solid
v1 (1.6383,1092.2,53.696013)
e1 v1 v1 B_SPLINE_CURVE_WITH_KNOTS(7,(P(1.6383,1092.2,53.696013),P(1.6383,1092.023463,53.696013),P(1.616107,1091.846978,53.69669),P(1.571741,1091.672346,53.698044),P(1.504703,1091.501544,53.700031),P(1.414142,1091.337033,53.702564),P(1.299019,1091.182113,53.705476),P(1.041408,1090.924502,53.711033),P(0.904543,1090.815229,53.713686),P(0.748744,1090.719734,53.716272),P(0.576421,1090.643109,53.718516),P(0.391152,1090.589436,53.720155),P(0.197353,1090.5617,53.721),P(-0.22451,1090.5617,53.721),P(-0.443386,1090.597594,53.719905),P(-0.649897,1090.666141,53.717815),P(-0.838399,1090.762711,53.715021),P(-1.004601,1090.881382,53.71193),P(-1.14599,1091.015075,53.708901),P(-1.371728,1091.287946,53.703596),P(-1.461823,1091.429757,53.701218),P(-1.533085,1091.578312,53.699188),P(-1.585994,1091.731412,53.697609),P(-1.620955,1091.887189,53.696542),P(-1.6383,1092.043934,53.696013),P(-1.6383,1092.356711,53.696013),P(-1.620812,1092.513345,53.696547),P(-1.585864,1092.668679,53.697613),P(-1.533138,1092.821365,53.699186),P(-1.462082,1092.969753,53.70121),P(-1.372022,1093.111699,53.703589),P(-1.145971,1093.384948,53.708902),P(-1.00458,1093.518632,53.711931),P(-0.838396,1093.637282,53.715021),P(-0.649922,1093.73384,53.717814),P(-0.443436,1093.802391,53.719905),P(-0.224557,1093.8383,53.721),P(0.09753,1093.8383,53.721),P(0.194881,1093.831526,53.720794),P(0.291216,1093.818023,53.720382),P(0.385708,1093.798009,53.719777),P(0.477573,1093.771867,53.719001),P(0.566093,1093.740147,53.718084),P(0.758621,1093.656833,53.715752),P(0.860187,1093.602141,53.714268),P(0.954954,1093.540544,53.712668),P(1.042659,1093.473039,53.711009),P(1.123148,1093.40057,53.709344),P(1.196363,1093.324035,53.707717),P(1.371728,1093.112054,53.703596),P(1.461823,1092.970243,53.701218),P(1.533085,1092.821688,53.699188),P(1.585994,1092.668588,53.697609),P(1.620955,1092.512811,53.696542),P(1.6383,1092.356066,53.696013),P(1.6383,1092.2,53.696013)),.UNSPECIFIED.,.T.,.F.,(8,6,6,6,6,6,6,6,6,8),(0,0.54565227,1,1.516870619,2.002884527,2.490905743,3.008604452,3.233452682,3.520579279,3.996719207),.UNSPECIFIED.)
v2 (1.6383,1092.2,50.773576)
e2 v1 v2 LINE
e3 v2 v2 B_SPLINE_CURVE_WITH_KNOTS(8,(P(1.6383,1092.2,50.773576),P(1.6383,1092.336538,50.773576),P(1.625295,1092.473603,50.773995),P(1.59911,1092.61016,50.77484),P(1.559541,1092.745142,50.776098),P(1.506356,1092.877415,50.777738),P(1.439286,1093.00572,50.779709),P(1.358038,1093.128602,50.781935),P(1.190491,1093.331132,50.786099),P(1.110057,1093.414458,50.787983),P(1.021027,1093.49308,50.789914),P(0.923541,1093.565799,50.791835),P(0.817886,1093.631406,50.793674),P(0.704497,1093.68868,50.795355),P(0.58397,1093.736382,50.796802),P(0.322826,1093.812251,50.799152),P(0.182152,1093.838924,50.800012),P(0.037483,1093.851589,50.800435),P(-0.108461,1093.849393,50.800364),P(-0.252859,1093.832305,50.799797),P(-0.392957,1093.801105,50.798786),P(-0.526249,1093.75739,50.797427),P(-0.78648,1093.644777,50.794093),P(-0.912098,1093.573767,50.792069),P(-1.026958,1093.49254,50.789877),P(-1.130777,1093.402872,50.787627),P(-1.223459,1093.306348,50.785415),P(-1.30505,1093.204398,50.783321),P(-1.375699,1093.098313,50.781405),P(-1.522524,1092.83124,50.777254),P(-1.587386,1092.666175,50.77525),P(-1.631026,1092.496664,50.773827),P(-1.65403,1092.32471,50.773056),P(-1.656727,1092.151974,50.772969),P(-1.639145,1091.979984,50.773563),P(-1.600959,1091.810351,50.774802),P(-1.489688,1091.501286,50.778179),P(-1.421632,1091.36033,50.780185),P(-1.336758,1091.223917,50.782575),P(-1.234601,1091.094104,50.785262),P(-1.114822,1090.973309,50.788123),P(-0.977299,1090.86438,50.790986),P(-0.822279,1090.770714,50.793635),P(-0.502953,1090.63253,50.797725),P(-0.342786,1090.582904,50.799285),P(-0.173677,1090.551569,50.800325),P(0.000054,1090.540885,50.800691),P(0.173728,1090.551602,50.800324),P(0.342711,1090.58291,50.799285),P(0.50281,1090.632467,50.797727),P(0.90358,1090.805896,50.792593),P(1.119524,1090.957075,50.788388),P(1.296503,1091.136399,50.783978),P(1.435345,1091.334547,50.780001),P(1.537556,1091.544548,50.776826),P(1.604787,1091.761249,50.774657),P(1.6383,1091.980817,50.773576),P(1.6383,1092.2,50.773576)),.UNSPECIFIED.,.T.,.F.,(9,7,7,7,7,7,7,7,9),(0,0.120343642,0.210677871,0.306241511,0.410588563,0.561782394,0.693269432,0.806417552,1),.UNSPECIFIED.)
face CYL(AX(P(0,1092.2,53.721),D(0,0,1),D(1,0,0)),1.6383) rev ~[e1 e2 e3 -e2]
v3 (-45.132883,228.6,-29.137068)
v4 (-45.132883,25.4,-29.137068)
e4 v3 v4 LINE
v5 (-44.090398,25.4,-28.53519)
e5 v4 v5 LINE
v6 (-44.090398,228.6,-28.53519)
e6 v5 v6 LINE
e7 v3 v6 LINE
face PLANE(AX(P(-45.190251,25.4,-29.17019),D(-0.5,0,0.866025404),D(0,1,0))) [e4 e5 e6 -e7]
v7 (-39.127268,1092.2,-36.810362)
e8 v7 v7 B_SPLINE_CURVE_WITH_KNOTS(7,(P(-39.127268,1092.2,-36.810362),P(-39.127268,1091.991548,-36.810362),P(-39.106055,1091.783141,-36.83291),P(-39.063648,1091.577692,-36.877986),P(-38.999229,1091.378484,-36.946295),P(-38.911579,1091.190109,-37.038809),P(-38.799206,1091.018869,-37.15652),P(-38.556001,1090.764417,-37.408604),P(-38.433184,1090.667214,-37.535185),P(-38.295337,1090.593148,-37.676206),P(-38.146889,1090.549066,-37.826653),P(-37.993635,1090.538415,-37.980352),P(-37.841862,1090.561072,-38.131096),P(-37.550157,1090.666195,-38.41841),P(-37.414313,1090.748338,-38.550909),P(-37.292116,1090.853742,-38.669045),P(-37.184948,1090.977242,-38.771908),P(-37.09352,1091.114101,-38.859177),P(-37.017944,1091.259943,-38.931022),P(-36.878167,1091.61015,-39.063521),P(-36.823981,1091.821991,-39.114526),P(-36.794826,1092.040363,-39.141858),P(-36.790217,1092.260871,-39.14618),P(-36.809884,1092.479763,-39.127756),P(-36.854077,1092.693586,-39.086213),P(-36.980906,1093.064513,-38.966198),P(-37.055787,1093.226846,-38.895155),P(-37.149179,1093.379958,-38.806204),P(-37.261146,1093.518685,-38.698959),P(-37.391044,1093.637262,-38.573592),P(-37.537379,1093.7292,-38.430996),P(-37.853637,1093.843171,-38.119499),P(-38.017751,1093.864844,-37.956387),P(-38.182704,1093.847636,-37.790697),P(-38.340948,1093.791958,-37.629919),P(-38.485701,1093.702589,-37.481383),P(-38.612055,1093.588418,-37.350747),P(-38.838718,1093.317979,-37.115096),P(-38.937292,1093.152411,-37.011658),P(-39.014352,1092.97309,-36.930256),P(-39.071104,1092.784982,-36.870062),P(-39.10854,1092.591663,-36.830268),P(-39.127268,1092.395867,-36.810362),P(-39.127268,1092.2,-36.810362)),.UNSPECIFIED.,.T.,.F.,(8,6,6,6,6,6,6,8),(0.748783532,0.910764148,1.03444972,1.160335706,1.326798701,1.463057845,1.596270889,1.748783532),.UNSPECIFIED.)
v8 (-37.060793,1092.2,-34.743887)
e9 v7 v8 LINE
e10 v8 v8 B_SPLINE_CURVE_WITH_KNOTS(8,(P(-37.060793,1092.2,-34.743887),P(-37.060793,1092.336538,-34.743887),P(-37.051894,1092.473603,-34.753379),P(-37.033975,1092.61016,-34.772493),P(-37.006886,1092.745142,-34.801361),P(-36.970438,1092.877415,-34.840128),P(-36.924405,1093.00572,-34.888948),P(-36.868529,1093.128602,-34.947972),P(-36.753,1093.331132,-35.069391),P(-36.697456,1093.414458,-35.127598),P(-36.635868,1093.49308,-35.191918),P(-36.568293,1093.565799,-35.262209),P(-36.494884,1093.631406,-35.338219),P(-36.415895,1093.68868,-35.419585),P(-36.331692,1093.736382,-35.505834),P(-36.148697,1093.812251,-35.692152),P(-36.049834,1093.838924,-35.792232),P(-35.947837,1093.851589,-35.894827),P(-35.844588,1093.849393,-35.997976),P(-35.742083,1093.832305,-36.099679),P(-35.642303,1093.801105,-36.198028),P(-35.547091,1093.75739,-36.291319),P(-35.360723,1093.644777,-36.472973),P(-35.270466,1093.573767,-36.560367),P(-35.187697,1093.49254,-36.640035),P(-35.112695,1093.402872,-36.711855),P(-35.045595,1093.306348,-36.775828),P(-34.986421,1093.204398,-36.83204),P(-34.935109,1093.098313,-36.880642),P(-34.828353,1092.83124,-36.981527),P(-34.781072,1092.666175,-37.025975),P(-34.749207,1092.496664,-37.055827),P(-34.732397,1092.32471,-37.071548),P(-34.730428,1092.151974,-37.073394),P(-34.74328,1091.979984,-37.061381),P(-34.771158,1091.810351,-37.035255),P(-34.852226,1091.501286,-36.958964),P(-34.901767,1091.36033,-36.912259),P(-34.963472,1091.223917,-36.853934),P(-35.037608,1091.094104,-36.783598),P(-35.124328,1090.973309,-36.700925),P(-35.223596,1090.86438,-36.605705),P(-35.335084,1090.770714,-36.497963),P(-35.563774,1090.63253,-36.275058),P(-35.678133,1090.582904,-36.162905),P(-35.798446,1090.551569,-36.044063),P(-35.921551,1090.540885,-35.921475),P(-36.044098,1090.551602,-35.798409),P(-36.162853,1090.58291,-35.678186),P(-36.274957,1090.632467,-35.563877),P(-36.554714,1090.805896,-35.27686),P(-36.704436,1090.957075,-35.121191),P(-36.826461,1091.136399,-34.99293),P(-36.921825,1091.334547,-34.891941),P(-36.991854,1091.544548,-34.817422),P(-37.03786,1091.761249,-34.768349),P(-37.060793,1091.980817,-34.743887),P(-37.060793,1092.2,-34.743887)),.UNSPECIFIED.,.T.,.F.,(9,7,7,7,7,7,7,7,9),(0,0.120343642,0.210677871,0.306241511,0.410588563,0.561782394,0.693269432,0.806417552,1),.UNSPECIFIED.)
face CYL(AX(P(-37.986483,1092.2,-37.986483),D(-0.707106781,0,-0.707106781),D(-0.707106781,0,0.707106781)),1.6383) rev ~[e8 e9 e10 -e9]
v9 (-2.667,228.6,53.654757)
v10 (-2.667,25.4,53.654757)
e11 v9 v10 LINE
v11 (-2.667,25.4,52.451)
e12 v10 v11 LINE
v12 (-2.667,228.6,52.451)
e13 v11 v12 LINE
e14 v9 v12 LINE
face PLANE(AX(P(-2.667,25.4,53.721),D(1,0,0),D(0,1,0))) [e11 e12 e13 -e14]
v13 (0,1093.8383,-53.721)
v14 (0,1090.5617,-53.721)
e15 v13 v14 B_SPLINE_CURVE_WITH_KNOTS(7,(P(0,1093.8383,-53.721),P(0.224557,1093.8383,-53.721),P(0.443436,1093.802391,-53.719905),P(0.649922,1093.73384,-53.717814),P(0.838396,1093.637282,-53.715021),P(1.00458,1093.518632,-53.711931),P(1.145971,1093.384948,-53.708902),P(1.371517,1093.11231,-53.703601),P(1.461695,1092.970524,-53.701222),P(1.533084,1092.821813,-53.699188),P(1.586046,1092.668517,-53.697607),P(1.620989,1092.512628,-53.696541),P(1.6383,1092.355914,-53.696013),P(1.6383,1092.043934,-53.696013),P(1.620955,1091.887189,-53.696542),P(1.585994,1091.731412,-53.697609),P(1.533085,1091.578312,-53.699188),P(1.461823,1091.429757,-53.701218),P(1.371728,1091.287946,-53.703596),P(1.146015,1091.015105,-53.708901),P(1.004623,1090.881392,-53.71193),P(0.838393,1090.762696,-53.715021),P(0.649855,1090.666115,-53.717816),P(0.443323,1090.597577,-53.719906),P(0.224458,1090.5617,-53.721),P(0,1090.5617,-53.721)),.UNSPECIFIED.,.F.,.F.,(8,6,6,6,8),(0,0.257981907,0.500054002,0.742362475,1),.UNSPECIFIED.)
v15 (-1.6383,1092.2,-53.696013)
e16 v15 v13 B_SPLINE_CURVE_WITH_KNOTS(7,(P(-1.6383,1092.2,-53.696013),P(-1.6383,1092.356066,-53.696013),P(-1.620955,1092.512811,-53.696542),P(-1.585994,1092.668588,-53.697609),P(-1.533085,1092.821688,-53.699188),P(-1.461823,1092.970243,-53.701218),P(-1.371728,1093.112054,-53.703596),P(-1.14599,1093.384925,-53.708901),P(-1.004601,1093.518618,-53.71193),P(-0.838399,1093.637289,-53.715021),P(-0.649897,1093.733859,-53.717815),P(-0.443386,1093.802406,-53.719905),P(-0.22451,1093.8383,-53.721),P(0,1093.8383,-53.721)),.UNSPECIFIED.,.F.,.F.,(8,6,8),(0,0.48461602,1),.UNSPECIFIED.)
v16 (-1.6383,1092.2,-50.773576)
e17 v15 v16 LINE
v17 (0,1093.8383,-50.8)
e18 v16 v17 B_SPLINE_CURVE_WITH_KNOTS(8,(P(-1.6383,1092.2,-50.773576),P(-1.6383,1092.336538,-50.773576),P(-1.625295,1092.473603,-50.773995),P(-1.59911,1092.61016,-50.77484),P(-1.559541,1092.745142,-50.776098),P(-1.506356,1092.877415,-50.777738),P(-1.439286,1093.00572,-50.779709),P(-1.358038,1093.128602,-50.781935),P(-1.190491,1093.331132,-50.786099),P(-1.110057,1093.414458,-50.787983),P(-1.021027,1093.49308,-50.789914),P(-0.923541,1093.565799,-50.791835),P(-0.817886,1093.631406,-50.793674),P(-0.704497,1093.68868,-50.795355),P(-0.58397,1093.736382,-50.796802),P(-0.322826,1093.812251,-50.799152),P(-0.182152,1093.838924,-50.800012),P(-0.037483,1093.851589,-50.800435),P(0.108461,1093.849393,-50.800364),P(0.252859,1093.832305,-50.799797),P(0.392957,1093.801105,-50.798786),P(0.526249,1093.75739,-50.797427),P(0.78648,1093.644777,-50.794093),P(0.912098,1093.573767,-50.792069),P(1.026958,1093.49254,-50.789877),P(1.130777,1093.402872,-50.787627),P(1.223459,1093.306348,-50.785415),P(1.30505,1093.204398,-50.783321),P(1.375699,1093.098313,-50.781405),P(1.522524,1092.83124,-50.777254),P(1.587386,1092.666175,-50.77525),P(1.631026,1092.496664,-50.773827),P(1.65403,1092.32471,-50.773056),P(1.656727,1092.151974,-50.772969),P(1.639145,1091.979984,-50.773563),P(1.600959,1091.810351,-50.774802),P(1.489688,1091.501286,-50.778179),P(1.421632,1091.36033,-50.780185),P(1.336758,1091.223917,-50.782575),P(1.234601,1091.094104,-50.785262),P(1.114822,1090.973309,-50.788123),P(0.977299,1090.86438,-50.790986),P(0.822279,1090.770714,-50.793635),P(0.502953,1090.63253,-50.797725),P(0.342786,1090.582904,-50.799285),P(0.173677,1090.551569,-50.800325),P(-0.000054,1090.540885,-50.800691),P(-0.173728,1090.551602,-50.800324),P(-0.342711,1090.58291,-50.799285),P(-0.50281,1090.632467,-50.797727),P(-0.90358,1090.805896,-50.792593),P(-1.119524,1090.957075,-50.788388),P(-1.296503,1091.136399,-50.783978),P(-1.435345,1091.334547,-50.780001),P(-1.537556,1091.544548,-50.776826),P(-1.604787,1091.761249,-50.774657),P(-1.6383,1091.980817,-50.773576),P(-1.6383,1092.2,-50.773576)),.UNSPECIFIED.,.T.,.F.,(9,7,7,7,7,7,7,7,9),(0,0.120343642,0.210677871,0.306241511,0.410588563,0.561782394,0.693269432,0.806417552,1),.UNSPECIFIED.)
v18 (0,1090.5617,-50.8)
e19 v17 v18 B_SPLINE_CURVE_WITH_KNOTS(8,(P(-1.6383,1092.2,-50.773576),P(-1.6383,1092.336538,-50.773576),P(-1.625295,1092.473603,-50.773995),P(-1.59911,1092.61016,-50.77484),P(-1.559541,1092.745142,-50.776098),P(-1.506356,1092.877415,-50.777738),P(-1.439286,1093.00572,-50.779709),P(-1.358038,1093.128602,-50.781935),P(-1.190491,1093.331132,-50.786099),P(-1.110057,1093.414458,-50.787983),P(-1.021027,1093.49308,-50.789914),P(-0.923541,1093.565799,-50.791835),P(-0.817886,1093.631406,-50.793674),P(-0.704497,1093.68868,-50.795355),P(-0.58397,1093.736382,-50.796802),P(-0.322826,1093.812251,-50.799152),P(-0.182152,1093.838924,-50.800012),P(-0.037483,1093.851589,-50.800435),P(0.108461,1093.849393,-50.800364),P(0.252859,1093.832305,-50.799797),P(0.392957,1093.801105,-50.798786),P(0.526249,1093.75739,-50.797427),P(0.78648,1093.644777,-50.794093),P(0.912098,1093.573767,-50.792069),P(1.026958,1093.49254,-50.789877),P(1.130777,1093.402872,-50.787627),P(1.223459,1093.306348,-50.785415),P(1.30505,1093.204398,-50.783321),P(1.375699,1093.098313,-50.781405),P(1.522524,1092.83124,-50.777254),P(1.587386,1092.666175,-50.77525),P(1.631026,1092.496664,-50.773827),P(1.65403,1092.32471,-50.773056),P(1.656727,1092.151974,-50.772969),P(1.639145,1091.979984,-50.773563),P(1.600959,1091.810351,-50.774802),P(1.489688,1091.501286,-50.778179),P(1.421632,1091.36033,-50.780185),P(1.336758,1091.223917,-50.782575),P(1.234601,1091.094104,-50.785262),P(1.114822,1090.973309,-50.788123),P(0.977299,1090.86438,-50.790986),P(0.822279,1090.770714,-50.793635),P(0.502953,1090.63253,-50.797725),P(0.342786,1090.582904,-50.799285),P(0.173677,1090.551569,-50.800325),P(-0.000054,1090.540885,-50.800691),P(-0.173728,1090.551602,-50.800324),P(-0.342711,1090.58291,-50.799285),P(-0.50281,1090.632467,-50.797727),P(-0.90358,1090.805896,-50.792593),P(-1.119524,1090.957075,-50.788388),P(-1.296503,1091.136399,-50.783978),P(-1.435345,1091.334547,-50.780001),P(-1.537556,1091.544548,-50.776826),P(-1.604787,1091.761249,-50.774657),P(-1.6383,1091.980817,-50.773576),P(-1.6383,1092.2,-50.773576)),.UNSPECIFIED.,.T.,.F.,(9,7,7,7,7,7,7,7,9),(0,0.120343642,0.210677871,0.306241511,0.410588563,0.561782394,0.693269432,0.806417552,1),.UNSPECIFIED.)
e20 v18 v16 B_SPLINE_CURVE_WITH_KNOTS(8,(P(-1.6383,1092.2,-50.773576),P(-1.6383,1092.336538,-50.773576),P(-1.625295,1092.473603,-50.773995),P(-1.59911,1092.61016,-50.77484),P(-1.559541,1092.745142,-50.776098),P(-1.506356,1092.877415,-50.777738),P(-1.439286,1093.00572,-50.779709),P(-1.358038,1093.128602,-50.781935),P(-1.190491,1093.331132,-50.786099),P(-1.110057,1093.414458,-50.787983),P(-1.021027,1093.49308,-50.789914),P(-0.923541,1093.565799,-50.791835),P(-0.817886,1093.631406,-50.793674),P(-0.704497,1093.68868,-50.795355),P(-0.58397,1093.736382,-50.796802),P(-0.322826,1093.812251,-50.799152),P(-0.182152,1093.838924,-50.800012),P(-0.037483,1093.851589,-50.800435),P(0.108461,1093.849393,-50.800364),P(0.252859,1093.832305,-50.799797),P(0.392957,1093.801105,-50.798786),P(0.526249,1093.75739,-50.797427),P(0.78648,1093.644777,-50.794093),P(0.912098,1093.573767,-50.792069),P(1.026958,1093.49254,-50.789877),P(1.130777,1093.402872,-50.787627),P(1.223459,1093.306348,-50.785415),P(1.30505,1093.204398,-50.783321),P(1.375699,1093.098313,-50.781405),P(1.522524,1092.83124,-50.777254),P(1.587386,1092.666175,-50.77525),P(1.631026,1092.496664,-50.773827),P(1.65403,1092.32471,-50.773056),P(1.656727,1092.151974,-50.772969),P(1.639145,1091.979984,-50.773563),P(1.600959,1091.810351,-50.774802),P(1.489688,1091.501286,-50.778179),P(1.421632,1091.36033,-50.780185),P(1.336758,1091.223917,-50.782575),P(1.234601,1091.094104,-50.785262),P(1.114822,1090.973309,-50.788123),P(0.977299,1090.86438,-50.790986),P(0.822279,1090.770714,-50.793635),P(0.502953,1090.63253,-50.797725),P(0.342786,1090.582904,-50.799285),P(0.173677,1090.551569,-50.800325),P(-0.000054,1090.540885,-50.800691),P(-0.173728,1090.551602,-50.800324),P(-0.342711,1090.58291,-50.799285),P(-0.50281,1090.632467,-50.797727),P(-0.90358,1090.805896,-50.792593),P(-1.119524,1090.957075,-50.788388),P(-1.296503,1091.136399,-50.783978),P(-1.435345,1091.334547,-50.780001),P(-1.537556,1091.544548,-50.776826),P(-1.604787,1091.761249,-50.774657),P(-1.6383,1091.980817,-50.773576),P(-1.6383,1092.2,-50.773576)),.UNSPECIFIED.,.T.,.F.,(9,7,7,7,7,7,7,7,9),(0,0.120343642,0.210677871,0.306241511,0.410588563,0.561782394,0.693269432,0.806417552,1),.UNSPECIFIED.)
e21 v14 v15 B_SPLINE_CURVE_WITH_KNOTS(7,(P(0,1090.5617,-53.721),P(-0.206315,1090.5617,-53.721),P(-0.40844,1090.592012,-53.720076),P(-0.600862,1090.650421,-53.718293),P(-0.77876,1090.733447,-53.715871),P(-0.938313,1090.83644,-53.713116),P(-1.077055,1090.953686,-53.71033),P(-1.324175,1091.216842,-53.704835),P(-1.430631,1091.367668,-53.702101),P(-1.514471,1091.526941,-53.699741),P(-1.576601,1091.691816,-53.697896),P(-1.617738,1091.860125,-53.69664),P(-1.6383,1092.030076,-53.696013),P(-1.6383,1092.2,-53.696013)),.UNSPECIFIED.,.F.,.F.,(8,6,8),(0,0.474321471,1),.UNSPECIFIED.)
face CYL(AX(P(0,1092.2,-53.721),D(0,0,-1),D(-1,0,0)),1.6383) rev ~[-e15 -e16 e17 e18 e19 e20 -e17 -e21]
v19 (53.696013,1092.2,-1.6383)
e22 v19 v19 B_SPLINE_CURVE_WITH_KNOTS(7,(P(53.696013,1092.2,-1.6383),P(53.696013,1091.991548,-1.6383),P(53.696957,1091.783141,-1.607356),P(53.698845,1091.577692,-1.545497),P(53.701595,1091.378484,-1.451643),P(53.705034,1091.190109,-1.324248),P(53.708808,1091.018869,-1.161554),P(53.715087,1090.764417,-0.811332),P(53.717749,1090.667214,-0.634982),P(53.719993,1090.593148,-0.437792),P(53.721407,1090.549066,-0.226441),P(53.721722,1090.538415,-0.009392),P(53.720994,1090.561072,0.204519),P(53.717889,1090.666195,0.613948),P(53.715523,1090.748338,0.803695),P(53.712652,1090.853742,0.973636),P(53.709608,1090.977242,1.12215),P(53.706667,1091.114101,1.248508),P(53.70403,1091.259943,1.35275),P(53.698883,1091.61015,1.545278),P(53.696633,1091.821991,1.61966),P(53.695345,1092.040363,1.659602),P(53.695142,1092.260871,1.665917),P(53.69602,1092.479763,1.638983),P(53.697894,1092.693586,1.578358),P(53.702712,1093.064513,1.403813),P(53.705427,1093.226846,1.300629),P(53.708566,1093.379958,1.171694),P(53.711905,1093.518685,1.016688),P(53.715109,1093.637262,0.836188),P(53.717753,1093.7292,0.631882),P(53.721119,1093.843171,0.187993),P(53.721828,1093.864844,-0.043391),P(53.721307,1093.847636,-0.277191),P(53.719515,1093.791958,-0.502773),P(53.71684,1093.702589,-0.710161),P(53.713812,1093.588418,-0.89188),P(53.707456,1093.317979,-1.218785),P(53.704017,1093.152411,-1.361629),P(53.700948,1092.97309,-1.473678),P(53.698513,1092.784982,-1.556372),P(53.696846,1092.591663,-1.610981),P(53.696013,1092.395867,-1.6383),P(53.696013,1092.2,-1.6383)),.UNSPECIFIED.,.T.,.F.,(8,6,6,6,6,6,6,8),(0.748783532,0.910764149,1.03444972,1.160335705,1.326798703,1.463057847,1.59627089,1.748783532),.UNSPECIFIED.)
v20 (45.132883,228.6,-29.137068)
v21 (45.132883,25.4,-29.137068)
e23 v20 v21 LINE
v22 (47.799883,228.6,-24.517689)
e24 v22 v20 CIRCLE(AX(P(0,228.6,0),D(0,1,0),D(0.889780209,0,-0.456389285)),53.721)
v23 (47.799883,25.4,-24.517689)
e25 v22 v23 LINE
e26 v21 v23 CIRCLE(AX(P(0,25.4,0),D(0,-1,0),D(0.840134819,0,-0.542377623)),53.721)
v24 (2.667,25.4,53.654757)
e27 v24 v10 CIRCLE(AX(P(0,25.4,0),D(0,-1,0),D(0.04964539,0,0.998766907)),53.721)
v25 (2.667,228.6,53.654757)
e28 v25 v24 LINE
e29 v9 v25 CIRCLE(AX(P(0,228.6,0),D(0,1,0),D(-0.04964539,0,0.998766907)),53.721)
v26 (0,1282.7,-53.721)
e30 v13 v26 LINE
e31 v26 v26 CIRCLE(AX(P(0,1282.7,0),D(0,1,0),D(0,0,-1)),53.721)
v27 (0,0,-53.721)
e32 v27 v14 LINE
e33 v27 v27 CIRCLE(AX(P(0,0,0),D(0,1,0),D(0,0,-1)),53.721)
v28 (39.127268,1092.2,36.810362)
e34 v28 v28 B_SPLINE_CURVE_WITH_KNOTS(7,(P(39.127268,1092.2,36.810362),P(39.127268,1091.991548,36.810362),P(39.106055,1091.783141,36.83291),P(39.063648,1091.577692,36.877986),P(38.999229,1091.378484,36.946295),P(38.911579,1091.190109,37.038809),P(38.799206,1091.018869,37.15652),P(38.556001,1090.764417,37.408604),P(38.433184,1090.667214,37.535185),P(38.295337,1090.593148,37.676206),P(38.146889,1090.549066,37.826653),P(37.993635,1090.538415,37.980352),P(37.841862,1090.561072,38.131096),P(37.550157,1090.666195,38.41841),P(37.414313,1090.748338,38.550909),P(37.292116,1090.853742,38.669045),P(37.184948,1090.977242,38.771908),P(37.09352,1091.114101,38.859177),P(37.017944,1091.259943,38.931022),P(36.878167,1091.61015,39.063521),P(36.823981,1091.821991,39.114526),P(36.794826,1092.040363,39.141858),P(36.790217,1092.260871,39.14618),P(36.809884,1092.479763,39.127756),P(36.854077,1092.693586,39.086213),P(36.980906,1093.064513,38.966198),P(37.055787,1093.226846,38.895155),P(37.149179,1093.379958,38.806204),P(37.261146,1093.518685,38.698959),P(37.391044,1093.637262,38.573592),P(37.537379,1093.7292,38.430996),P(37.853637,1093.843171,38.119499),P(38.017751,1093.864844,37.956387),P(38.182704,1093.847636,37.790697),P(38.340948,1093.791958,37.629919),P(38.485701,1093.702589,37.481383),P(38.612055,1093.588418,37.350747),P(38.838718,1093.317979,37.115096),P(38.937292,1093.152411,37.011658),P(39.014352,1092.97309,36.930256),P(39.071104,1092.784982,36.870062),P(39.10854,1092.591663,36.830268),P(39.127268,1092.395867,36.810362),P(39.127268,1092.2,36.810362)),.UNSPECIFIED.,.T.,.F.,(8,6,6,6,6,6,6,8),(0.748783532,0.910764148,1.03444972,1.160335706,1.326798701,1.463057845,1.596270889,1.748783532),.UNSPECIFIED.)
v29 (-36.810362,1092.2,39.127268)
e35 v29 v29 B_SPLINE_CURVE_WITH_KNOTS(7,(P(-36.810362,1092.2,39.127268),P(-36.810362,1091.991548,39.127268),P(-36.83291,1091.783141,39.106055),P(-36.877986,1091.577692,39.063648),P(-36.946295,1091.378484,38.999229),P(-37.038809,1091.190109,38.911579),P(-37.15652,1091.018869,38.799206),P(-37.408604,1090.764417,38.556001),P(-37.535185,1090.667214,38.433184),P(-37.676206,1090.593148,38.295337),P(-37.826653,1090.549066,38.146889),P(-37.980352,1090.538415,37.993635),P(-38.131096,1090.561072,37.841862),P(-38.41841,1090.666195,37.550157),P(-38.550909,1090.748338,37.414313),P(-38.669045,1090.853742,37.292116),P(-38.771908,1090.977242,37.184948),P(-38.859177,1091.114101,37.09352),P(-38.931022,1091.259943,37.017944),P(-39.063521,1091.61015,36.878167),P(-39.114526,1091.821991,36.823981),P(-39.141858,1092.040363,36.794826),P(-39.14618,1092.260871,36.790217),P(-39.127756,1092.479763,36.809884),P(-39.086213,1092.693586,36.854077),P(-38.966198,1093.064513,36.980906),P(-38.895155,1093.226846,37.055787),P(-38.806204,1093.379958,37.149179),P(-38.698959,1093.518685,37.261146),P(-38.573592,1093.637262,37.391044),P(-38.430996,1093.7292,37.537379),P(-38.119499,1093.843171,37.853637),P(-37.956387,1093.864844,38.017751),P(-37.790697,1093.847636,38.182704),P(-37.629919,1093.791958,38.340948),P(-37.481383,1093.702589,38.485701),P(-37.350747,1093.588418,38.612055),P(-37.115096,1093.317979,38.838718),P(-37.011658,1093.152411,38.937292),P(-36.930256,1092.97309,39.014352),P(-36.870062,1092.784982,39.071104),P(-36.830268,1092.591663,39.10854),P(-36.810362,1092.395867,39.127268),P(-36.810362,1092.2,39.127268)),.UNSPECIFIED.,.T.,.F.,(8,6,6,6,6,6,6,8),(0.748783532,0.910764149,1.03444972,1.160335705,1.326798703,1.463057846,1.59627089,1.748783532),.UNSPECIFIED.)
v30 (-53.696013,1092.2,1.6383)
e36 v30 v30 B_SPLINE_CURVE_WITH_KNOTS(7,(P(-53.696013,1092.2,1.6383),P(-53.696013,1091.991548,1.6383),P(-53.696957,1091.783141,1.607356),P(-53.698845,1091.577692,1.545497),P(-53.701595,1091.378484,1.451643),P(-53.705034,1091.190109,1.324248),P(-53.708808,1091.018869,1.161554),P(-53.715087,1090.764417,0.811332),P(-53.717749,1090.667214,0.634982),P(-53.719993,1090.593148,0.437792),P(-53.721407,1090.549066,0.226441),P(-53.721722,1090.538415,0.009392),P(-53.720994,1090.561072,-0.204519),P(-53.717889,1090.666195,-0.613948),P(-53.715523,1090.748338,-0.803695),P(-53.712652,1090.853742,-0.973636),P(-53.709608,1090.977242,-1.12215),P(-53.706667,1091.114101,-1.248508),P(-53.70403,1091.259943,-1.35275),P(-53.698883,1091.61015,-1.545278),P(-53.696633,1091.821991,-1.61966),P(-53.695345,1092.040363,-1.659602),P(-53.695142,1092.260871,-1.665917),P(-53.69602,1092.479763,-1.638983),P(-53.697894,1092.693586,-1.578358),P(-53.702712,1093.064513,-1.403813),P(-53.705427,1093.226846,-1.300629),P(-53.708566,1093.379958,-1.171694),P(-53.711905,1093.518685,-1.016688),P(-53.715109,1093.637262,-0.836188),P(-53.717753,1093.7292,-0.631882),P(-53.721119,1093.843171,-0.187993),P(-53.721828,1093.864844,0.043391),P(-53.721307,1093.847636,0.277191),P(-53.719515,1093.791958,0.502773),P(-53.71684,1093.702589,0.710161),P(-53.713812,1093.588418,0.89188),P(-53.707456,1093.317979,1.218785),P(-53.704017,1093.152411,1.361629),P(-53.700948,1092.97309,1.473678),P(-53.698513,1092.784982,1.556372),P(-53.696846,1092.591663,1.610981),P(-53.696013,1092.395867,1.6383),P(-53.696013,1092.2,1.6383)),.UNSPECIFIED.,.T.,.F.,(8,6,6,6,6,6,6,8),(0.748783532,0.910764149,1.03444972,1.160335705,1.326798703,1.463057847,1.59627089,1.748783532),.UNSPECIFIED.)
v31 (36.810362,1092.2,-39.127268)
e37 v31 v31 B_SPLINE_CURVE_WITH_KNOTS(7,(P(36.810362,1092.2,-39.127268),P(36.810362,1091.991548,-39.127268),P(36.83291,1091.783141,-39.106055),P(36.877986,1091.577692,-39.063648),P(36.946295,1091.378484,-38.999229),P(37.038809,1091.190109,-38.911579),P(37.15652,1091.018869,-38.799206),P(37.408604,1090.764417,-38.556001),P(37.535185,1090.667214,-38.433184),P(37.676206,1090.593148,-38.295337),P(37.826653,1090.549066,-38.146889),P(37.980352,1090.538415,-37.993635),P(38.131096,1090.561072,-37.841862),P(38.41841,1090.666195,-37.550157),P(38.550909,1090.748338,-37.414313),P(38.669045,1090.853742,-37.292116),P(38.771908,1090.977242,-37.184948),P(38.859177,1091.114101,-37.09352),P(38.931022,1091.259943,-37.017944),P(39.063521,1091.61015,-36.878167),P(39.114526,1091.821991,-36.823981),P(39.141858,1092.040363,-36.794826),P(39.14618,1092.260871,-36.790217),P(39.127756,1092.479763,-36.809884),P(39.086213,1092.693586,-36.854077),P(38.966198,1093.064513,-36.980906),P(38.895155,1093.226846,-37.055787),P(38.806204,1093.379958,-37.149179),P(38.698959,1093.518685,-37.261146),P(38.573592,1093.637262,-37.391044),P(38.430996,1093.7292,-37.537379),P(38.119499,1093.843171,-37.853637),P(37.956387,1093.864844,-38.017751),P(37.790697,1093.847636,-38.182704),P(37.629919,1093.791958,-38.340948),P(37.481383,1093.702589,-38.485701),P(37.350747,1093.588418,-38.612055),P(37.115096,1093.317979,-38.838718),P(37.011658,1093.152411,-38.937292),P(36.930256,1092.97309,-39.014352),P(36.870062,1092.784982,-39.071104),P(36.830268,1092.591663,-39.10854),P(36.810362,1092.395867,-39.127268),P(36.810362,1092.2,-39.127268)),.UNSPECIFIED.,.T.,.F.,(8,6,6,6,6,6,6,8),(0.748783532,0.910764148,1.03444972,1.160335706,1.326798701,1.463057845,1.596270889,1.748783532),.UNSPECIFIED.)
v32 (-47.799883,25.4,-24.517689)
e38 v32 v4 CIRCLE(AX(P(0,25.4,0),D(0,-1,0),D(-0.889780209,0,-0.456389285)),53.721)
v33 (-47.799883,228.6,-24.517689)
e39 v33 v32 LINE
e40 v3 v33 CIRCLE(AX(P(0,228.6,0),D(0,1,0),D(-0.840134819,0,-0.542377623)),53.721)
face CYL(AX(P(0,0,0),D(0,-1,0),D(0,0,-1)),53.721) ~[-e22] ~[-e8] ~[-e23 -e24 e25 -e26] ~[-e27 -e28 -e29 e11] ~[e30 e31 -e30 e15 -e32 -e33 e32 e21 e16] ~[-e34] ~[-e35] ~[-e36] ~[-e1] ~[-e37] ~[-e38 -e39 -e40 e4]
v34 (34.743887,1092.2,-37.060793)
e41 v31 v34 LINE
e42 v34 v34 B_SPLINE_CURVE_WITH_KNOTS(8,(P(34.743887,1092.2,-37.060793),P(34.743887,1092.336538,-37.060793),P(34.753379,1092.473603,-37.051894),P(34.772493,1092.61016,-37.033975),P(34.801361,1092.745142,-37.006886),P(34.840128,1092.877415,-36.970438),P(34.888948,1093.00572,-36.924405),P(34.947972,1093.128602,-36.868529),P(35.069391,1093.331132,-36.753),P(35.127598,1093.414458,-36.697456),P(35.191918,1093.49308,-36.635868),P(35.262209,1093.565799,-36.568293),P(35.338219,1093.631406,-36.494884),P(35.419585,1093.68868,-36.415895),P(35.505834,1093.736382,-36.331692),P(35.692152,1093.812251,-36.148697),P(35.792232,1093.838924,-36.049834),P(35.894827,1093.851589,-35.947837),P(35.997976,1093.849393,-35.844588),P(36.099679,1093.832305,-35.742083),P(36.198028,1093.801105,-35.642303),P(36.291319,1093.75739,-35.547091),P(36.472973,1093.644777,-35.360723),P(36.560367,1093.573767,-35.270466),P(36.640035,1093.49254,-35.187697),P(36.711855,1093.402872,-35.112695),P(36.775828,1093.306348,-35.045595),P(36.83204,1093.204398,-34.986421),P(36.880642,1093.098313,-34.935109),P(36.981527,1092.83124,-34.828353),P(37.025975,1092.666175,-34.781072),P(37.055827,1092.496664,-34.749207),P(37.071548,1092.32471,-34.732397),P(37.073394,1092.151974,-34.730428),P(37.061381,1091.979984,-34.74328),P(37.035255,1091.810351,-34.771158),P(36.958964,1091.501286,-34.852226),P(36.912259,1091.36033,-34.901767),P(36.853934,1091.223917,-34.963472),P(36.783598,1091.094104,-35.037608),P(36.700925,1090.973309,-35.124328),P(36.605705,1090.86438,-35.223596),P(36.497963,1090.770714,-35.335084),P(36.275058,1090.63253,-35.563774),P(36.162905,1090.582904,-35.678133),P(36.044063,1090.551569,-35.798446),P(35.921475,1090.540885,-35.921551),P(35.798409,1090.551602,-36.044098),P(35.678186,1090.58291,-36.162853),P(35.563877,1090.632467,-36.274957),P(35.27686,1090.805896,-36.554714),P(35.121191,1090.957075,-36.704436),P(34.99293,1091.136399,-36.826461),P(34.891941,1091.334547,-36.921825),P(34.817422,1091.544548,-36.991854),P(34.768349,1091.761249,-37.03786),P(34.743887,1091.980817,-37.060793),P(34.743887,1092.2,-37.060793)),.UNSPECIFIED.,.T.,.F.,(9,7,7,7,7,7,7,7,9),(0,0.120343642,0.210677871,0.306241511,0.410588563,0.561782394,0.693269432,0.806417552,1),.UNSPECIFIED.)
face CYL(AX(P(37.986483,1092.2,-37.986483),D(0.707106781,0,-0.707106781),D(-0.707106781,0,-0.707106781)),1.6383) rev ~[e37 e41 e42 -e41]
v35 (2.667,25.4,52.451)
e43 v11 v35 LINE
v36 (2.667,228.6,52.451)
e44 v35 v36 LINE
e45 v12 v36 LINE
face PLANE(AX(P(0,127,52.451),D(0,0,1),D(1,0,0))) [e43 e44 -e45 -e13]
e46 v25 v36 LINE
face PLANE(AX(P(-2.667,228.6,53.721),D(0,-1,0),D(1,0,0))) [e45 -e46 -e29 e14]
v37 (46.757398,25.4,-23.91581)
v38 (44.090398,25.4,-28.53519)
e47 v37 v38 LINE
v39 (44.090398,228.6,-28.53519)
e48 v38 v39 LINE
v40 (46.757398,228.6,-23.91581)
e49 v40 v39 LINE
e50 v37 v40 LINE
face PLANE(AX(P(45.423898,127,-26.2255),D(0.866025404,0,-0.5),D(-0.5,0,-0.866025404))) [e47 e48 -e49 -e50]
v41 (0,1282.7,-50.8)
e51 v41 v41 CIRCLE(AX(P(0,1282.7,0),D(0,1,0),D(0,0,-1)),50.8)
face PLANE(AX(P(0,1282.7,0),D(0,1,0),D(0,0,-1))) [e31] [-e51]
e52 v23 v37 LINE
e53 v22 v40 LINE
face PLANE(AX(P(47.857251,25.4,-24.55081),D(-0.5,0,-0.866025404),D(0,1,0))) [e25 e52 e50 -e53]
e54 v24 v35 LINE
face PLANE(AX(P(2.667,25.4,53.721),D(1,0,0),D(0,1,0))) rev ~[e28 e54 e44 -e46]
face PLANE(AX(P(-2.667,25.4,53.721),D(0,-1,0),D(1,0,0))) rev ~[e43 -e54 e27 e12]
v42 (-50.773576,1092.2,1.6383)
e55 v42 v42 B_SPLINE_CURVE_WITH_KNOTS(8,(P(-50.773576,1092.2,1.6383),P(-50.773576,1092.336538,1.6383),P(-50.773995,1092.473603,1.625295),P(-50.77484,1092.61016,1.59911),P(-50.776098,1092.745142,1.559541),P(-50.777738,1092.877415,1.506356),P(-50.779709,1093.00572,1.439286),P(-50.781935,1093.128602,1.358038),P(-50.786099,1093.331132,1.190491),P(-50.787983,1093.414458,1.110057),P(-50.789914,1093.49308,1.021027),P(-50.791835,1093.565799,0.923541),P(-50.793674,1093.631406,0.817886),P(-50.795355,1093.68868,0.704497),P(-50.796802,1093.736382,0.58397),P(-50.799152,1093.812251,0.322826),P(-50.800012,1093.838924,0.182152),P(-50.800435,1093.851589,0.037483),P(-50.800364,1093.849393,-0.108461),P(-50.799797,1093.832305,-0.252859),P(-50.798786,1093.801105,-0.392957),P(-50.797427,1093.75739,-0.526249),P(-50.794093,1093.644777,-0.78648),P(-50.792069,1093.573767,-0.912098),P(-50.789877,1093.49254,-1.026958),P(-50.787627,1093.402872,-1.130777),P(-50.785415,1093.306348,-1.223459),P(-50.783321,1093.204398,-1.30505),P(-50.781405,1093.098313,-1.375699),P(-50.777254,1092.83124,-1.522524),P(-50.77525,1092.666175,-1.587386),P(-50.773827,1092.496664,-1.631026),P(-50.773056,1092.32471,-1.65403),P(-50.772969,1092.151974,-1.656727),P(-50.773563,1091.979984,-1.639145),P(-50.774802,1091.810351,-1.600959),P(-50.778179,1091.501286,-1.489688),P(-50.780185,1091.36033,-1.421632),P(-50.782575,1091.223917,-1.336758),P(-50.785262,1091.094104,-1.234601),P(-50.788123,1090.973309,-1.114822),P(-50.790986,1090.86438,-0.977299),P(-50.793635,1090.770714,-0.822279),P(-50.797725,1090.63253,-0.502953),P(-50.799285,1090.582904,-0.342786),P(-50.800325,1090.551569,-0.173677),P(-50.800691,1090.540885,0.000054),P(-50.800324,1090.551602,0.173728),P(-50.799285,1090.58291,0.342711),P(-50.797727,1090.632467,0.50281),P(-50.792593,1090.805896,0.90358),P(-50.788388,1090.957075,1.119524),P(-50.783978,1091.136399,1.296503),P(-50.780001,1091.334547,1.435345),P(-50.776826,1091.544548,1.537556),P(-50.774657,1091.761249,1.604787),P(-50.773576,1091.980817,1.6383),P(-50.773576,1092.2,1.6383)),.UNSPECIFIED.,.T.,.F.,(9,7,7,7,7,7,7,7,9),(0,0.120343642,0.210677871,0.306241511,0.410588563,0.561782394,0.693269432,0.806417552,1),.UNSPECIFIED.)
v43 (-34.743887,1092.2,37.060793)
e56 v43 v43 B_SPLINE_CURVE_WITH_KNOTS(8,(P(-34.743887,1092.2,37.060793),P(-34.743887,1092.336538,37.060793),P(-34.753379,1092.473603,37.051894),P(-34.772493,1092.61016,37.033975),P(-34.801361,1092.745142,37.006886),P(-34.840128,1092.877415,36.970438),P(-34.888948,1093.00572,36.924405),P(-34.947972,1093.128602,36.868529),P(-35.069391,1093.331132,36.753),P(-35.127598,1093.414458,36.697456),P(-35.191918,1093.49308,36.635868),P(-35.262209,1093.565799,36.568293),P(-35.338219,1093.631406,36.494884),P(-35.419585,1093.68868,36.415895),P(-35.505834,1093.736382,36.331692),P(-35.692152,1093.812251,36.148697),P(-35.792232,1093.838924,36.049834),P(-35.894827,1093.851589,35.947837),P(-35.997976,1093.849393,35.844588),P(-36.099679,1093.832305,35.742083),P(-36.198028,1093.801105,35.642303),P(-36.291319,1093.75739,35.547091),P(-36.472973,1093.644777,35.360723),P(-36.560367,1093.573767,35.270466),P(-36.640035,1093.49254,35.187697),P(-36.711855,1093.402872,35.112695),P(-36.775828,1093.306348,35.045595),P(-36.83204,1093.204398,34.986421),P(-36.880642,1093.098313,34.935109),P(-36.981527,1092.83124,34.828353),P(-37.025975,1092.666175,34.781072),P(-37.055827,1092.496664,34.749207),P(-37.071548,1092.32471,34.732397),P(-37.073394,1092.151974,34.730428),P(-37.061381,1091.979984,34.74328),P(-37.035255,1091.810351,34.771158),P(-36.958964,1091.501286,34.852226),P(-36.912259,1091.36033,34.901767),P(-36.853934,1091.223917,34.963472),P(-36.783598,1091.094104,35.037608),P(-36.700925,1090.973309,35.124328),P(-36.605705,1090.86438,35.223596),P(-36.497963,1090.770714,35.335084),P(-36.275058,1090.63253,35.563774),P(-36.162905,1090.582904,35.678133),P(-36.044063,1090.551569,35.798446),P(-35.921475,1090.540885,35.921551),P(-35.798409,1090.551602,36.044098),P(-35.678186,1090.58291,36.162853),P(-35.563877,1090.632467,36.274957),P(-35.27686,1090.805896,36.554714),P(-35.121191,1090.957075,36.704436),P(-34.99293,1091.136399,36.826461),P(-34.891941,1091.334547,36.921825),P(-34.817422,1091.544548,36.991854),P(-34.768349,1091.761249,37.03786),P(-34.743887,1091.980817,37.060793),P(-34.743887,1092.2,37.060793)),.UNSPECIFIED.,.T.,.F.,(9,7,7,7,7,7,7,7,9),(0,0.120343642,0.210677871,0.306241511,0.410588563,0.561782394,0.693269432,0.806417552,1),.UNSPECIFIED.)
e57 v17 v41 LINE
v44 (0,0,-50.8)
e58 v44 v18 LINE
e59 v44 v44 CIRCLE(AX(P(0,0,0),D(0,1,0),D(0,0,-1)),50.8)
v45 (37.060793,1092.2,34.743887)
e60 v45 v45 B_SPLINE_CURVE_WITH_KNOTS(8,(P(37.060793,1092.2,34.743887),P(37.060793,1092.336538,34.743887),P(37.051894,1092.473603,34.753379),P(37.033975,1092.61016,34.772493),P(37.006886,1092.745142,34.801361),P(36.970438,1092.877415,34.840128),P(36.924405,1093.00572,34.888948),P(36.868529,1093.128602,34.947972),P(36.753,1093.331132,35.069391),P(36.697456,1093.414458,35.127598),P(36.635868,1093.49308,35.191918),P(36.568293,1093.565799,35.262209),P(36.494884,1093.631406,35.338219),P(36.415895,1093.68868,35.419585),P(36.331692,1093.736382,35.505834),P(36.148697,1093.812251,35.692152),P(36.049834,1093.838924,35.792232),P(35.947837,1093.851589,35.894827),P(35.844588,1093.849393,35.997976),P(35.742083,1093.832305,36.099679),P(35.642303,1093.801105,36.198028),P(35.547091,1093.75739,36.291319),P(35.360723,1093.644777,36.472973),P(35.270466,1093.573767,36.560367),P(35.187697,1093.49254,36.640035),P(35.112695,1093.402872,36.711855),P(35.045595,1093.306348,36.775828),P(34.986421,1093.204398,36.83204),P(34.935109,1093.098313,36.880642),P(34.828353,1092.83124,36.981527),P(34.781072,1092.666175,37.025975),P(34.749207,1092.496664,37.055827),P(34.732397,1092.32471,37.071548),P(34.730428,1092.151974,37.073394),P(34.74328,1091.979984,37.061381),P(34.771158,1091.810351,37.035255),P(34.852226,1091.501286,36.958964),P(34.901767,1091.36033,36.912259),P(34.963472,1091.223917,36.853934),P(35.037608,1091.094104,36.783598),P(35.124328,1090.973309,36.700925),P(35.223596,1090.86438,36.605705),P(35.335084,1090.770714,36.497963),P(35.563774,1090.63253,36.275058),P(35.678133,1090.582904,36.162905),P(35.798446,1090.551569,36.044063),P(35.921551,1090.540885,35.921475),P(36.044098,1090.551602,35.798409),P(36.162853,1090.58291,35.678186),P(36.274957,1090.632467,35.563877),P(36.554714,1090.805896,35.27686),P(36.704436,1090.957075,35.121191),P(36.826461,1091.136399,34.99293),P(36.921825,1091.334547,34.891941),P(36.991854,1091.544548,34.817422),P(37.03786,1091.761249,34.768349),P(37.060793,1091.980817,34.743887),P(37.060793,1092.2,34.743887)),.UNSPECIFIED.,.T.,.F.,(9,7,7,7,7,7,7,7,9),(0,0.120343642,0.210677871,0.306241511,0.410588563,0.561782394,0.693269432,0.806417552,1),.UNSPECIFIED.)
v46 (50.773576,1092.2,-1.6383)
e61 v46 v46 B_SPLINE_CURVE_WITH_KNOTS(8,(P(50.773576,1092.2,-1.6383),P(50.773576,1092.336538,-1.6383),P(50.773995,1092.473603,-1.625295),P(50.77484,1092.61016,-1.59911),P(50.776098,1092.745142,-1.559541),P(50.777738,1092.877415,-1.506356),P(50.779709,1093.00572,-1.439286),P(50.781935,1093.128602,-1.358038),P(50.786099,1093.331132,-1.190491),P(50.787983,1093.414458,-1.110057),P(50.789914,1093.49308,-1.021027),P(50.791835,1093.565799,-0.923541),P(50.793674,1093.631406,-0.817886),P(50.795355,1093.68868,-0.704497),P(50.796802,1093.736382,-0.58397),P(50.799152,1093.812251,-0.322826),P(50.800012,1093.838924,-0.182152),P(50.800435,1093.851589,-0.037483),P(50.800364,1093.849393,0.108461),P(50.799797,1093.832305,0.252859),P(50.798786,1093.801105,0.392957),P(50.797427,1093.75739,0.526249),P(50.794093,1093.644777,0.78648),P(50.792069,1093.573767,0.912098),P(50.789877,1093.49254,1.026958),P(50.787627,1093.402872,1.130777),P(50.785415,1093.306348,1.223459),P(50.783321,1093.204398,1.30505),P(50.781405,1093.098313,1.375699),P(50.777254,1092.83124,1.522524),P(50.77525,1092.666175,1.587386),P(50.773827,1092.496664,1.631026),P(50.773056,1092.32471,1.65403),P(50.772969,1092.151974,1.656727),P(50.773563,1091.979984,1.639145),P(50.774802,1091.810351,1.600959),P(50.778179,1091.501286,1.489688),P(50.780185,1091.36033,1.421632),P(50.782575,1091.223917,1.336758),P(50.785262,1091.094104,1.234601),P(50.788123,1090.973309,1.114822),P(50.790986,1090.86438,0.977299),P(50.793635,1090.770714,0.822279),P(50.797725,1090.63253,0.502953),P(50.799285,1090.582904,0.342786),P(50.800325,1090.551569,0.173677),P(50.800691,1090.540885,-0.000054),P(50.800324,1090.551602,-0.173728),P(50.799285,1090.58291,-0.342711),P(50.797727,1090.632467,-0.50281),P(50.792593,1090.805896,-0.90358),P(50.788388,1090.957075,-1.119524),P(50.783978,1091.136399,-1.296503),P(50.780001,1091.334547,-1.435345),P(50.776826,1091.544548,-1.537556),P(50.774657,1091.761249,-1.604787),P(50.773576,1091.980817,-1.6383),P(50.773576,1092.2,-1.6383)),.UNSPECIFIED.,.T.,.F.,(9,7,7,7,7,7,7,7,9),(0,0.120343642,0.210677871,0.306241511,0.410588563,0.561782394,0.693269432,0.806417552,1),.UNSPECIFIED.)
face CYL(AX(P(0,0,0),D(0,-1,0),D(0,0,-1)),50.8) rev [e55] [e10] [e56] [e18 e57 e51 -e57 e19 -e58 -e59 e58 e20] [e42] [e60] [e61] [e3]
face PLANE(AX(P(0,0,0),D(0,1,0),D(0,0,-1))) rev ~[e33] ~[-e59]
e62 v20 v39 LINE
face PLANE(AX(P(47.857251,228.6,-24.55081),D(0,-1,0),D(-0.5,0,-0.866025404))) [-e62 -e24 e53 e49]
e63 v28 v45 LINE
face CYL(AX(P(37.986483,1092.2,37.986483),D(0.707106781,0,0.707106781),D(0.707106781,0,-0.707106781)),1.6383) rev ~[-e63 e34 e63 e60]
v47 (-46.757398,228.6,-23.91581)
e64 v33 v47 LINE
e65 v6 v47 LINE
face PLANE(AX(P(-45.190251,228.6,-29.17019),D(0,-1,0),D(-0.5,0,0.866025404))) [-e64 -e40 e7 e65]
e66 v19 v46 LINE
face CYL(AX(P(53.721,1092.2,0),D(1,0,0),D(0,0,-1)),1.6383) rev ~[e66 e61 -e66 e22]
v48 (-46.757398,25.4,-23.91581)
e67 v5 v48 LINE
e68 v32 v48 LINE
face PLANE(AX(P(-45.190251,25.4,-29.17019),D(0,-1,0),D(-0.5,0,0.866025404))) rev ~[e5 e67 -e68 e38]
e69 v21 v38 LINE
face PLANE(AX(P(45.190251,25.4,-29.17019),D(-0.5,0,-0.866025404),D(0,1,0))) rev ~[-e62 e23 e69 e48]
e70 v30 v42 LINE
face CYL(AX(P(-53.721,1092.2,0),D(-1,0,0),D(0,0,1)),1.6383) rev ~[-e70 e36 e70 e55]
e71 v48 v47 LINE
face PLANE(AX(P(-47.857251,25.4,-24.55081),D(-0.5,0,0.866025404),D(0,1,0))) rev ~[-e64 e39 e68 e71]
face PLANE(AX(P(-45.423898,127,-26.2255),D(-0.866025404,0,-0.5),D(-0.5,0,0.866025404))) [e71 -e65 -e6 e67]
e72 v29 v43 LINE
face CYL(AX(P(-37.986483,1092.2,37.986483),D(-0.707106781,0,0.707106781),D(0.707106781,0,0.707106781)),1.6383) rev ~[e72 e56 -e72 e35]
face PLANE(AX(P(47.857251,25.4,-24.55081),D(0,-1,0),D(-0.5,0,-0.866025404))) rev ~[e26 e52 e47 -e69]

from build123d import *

# Parameters (mm, degrees)
SKETCH1_R                    = 53.721
SKETCH1_R_2                  = 50.8
TUBE_EXTRUSION_DEPTH         = 1282.7
ENGINE_BLOCK_HOLE_REACH      = 1290.312
ENGINE_BLOCK_HOLE_END_RADIUS = 50.8
SKETCH2_R                    = 1.6383
CIRPATTERN1_COUNT            = 8
SKETCH3_W                    = 5.334
SKETCH3_H                    = 203.2
FIN_SLOTS_DEPTH              = 1.27
CIRPATTERN2_COUNT            = 3


with BuildPart() as part:
    # Sketch1 → Tube Extrusion (new body)
    with BuildSketch(Plane(origin=(0, 0, 0), x_dir=(1, 0, 0), z_dir=(0, 1, 0))):
        with Locations(Location((0, 0, 0), (0, 0, 90))):
            Circle(SKETCH1_R)
        with Locations(Location((0, 0, 0), (0, 0, 90))):
            Circle(SKETCH1_R_2, mode=Mode.SUBTRACT)
    extrude(amount=TUBE_EXTRUSION_DEPTH)

    # Engine Block Hole: up to this cylinder (the profile starts outside it)
    engine_block_hole_end = Plane(origin=(0, 1092.2, 0), z_dir=(0, -1, 0)) * Cylinder(ENGINE_BLOCK_HOLE_END_RADIUS, 2683.224, mode=Mode.PRIVATE)
    # Sketch2 → Engine Block Hole (cut, up to the surface)
    with BuildSketch(Plane.XY.offset(53.721), mode=Mode.PRIVATE) as engine_block_hole_sk1:
        with Locations((0, 1092.2)):
            Circle(SKETCH2_R)
    engine_block_hole_tool1 = extrude(engine_block_hole_sk1.sketch, amount=-ENGINE_BLOCK_HOLE_REACH, mode=Mode.PRIVATE) - engine_block_hole_end
    engine_block_hole = engine_block_hole_tool1.solids().sort_by_distance((0, 1092.2, 53.721))[0]
    add(engine_block_hole, mode=Mode.SUBTRACT)

    # CirPattern1: Engine Block Hole ×8 about axis
    cirpattern1_axis = Axis((0, 1282.7, 0), (0, -1, 0))
    for i in range(1, CIRPATTERN1_COUNT):
        add(engine_block_hole.rotate(cirpattern1_axis, i * 360 / CIRPATTERN1_COUNT), mode=Mode.SUBTRACT)

    # Sketch3 → Fin Slots (cut)
    with BuildSketch(Plane.XY.offset(53.721)):
        with Locations((0, 127)):
            Rectangle(SKETCH3_W, SKETCH3_H)
    fin_slots = extrude(amount=-FIN_SLOTS_DEPTH, mode=Mode.SUBTRACT)

    # CirPattern2: Fin Slots ×3 about axis
    cirpattern2_axis = Axis((0, 0, 0), (0, 1, 0))
    for i in range(1, CIRPATTERN2_COUNT):
        add(fin_slots.rotate(cirpattern2_axis, i * 360 / CIRPATTERN2_COUNT), mode=Mode.SUBTRACT)


solid = part.part
